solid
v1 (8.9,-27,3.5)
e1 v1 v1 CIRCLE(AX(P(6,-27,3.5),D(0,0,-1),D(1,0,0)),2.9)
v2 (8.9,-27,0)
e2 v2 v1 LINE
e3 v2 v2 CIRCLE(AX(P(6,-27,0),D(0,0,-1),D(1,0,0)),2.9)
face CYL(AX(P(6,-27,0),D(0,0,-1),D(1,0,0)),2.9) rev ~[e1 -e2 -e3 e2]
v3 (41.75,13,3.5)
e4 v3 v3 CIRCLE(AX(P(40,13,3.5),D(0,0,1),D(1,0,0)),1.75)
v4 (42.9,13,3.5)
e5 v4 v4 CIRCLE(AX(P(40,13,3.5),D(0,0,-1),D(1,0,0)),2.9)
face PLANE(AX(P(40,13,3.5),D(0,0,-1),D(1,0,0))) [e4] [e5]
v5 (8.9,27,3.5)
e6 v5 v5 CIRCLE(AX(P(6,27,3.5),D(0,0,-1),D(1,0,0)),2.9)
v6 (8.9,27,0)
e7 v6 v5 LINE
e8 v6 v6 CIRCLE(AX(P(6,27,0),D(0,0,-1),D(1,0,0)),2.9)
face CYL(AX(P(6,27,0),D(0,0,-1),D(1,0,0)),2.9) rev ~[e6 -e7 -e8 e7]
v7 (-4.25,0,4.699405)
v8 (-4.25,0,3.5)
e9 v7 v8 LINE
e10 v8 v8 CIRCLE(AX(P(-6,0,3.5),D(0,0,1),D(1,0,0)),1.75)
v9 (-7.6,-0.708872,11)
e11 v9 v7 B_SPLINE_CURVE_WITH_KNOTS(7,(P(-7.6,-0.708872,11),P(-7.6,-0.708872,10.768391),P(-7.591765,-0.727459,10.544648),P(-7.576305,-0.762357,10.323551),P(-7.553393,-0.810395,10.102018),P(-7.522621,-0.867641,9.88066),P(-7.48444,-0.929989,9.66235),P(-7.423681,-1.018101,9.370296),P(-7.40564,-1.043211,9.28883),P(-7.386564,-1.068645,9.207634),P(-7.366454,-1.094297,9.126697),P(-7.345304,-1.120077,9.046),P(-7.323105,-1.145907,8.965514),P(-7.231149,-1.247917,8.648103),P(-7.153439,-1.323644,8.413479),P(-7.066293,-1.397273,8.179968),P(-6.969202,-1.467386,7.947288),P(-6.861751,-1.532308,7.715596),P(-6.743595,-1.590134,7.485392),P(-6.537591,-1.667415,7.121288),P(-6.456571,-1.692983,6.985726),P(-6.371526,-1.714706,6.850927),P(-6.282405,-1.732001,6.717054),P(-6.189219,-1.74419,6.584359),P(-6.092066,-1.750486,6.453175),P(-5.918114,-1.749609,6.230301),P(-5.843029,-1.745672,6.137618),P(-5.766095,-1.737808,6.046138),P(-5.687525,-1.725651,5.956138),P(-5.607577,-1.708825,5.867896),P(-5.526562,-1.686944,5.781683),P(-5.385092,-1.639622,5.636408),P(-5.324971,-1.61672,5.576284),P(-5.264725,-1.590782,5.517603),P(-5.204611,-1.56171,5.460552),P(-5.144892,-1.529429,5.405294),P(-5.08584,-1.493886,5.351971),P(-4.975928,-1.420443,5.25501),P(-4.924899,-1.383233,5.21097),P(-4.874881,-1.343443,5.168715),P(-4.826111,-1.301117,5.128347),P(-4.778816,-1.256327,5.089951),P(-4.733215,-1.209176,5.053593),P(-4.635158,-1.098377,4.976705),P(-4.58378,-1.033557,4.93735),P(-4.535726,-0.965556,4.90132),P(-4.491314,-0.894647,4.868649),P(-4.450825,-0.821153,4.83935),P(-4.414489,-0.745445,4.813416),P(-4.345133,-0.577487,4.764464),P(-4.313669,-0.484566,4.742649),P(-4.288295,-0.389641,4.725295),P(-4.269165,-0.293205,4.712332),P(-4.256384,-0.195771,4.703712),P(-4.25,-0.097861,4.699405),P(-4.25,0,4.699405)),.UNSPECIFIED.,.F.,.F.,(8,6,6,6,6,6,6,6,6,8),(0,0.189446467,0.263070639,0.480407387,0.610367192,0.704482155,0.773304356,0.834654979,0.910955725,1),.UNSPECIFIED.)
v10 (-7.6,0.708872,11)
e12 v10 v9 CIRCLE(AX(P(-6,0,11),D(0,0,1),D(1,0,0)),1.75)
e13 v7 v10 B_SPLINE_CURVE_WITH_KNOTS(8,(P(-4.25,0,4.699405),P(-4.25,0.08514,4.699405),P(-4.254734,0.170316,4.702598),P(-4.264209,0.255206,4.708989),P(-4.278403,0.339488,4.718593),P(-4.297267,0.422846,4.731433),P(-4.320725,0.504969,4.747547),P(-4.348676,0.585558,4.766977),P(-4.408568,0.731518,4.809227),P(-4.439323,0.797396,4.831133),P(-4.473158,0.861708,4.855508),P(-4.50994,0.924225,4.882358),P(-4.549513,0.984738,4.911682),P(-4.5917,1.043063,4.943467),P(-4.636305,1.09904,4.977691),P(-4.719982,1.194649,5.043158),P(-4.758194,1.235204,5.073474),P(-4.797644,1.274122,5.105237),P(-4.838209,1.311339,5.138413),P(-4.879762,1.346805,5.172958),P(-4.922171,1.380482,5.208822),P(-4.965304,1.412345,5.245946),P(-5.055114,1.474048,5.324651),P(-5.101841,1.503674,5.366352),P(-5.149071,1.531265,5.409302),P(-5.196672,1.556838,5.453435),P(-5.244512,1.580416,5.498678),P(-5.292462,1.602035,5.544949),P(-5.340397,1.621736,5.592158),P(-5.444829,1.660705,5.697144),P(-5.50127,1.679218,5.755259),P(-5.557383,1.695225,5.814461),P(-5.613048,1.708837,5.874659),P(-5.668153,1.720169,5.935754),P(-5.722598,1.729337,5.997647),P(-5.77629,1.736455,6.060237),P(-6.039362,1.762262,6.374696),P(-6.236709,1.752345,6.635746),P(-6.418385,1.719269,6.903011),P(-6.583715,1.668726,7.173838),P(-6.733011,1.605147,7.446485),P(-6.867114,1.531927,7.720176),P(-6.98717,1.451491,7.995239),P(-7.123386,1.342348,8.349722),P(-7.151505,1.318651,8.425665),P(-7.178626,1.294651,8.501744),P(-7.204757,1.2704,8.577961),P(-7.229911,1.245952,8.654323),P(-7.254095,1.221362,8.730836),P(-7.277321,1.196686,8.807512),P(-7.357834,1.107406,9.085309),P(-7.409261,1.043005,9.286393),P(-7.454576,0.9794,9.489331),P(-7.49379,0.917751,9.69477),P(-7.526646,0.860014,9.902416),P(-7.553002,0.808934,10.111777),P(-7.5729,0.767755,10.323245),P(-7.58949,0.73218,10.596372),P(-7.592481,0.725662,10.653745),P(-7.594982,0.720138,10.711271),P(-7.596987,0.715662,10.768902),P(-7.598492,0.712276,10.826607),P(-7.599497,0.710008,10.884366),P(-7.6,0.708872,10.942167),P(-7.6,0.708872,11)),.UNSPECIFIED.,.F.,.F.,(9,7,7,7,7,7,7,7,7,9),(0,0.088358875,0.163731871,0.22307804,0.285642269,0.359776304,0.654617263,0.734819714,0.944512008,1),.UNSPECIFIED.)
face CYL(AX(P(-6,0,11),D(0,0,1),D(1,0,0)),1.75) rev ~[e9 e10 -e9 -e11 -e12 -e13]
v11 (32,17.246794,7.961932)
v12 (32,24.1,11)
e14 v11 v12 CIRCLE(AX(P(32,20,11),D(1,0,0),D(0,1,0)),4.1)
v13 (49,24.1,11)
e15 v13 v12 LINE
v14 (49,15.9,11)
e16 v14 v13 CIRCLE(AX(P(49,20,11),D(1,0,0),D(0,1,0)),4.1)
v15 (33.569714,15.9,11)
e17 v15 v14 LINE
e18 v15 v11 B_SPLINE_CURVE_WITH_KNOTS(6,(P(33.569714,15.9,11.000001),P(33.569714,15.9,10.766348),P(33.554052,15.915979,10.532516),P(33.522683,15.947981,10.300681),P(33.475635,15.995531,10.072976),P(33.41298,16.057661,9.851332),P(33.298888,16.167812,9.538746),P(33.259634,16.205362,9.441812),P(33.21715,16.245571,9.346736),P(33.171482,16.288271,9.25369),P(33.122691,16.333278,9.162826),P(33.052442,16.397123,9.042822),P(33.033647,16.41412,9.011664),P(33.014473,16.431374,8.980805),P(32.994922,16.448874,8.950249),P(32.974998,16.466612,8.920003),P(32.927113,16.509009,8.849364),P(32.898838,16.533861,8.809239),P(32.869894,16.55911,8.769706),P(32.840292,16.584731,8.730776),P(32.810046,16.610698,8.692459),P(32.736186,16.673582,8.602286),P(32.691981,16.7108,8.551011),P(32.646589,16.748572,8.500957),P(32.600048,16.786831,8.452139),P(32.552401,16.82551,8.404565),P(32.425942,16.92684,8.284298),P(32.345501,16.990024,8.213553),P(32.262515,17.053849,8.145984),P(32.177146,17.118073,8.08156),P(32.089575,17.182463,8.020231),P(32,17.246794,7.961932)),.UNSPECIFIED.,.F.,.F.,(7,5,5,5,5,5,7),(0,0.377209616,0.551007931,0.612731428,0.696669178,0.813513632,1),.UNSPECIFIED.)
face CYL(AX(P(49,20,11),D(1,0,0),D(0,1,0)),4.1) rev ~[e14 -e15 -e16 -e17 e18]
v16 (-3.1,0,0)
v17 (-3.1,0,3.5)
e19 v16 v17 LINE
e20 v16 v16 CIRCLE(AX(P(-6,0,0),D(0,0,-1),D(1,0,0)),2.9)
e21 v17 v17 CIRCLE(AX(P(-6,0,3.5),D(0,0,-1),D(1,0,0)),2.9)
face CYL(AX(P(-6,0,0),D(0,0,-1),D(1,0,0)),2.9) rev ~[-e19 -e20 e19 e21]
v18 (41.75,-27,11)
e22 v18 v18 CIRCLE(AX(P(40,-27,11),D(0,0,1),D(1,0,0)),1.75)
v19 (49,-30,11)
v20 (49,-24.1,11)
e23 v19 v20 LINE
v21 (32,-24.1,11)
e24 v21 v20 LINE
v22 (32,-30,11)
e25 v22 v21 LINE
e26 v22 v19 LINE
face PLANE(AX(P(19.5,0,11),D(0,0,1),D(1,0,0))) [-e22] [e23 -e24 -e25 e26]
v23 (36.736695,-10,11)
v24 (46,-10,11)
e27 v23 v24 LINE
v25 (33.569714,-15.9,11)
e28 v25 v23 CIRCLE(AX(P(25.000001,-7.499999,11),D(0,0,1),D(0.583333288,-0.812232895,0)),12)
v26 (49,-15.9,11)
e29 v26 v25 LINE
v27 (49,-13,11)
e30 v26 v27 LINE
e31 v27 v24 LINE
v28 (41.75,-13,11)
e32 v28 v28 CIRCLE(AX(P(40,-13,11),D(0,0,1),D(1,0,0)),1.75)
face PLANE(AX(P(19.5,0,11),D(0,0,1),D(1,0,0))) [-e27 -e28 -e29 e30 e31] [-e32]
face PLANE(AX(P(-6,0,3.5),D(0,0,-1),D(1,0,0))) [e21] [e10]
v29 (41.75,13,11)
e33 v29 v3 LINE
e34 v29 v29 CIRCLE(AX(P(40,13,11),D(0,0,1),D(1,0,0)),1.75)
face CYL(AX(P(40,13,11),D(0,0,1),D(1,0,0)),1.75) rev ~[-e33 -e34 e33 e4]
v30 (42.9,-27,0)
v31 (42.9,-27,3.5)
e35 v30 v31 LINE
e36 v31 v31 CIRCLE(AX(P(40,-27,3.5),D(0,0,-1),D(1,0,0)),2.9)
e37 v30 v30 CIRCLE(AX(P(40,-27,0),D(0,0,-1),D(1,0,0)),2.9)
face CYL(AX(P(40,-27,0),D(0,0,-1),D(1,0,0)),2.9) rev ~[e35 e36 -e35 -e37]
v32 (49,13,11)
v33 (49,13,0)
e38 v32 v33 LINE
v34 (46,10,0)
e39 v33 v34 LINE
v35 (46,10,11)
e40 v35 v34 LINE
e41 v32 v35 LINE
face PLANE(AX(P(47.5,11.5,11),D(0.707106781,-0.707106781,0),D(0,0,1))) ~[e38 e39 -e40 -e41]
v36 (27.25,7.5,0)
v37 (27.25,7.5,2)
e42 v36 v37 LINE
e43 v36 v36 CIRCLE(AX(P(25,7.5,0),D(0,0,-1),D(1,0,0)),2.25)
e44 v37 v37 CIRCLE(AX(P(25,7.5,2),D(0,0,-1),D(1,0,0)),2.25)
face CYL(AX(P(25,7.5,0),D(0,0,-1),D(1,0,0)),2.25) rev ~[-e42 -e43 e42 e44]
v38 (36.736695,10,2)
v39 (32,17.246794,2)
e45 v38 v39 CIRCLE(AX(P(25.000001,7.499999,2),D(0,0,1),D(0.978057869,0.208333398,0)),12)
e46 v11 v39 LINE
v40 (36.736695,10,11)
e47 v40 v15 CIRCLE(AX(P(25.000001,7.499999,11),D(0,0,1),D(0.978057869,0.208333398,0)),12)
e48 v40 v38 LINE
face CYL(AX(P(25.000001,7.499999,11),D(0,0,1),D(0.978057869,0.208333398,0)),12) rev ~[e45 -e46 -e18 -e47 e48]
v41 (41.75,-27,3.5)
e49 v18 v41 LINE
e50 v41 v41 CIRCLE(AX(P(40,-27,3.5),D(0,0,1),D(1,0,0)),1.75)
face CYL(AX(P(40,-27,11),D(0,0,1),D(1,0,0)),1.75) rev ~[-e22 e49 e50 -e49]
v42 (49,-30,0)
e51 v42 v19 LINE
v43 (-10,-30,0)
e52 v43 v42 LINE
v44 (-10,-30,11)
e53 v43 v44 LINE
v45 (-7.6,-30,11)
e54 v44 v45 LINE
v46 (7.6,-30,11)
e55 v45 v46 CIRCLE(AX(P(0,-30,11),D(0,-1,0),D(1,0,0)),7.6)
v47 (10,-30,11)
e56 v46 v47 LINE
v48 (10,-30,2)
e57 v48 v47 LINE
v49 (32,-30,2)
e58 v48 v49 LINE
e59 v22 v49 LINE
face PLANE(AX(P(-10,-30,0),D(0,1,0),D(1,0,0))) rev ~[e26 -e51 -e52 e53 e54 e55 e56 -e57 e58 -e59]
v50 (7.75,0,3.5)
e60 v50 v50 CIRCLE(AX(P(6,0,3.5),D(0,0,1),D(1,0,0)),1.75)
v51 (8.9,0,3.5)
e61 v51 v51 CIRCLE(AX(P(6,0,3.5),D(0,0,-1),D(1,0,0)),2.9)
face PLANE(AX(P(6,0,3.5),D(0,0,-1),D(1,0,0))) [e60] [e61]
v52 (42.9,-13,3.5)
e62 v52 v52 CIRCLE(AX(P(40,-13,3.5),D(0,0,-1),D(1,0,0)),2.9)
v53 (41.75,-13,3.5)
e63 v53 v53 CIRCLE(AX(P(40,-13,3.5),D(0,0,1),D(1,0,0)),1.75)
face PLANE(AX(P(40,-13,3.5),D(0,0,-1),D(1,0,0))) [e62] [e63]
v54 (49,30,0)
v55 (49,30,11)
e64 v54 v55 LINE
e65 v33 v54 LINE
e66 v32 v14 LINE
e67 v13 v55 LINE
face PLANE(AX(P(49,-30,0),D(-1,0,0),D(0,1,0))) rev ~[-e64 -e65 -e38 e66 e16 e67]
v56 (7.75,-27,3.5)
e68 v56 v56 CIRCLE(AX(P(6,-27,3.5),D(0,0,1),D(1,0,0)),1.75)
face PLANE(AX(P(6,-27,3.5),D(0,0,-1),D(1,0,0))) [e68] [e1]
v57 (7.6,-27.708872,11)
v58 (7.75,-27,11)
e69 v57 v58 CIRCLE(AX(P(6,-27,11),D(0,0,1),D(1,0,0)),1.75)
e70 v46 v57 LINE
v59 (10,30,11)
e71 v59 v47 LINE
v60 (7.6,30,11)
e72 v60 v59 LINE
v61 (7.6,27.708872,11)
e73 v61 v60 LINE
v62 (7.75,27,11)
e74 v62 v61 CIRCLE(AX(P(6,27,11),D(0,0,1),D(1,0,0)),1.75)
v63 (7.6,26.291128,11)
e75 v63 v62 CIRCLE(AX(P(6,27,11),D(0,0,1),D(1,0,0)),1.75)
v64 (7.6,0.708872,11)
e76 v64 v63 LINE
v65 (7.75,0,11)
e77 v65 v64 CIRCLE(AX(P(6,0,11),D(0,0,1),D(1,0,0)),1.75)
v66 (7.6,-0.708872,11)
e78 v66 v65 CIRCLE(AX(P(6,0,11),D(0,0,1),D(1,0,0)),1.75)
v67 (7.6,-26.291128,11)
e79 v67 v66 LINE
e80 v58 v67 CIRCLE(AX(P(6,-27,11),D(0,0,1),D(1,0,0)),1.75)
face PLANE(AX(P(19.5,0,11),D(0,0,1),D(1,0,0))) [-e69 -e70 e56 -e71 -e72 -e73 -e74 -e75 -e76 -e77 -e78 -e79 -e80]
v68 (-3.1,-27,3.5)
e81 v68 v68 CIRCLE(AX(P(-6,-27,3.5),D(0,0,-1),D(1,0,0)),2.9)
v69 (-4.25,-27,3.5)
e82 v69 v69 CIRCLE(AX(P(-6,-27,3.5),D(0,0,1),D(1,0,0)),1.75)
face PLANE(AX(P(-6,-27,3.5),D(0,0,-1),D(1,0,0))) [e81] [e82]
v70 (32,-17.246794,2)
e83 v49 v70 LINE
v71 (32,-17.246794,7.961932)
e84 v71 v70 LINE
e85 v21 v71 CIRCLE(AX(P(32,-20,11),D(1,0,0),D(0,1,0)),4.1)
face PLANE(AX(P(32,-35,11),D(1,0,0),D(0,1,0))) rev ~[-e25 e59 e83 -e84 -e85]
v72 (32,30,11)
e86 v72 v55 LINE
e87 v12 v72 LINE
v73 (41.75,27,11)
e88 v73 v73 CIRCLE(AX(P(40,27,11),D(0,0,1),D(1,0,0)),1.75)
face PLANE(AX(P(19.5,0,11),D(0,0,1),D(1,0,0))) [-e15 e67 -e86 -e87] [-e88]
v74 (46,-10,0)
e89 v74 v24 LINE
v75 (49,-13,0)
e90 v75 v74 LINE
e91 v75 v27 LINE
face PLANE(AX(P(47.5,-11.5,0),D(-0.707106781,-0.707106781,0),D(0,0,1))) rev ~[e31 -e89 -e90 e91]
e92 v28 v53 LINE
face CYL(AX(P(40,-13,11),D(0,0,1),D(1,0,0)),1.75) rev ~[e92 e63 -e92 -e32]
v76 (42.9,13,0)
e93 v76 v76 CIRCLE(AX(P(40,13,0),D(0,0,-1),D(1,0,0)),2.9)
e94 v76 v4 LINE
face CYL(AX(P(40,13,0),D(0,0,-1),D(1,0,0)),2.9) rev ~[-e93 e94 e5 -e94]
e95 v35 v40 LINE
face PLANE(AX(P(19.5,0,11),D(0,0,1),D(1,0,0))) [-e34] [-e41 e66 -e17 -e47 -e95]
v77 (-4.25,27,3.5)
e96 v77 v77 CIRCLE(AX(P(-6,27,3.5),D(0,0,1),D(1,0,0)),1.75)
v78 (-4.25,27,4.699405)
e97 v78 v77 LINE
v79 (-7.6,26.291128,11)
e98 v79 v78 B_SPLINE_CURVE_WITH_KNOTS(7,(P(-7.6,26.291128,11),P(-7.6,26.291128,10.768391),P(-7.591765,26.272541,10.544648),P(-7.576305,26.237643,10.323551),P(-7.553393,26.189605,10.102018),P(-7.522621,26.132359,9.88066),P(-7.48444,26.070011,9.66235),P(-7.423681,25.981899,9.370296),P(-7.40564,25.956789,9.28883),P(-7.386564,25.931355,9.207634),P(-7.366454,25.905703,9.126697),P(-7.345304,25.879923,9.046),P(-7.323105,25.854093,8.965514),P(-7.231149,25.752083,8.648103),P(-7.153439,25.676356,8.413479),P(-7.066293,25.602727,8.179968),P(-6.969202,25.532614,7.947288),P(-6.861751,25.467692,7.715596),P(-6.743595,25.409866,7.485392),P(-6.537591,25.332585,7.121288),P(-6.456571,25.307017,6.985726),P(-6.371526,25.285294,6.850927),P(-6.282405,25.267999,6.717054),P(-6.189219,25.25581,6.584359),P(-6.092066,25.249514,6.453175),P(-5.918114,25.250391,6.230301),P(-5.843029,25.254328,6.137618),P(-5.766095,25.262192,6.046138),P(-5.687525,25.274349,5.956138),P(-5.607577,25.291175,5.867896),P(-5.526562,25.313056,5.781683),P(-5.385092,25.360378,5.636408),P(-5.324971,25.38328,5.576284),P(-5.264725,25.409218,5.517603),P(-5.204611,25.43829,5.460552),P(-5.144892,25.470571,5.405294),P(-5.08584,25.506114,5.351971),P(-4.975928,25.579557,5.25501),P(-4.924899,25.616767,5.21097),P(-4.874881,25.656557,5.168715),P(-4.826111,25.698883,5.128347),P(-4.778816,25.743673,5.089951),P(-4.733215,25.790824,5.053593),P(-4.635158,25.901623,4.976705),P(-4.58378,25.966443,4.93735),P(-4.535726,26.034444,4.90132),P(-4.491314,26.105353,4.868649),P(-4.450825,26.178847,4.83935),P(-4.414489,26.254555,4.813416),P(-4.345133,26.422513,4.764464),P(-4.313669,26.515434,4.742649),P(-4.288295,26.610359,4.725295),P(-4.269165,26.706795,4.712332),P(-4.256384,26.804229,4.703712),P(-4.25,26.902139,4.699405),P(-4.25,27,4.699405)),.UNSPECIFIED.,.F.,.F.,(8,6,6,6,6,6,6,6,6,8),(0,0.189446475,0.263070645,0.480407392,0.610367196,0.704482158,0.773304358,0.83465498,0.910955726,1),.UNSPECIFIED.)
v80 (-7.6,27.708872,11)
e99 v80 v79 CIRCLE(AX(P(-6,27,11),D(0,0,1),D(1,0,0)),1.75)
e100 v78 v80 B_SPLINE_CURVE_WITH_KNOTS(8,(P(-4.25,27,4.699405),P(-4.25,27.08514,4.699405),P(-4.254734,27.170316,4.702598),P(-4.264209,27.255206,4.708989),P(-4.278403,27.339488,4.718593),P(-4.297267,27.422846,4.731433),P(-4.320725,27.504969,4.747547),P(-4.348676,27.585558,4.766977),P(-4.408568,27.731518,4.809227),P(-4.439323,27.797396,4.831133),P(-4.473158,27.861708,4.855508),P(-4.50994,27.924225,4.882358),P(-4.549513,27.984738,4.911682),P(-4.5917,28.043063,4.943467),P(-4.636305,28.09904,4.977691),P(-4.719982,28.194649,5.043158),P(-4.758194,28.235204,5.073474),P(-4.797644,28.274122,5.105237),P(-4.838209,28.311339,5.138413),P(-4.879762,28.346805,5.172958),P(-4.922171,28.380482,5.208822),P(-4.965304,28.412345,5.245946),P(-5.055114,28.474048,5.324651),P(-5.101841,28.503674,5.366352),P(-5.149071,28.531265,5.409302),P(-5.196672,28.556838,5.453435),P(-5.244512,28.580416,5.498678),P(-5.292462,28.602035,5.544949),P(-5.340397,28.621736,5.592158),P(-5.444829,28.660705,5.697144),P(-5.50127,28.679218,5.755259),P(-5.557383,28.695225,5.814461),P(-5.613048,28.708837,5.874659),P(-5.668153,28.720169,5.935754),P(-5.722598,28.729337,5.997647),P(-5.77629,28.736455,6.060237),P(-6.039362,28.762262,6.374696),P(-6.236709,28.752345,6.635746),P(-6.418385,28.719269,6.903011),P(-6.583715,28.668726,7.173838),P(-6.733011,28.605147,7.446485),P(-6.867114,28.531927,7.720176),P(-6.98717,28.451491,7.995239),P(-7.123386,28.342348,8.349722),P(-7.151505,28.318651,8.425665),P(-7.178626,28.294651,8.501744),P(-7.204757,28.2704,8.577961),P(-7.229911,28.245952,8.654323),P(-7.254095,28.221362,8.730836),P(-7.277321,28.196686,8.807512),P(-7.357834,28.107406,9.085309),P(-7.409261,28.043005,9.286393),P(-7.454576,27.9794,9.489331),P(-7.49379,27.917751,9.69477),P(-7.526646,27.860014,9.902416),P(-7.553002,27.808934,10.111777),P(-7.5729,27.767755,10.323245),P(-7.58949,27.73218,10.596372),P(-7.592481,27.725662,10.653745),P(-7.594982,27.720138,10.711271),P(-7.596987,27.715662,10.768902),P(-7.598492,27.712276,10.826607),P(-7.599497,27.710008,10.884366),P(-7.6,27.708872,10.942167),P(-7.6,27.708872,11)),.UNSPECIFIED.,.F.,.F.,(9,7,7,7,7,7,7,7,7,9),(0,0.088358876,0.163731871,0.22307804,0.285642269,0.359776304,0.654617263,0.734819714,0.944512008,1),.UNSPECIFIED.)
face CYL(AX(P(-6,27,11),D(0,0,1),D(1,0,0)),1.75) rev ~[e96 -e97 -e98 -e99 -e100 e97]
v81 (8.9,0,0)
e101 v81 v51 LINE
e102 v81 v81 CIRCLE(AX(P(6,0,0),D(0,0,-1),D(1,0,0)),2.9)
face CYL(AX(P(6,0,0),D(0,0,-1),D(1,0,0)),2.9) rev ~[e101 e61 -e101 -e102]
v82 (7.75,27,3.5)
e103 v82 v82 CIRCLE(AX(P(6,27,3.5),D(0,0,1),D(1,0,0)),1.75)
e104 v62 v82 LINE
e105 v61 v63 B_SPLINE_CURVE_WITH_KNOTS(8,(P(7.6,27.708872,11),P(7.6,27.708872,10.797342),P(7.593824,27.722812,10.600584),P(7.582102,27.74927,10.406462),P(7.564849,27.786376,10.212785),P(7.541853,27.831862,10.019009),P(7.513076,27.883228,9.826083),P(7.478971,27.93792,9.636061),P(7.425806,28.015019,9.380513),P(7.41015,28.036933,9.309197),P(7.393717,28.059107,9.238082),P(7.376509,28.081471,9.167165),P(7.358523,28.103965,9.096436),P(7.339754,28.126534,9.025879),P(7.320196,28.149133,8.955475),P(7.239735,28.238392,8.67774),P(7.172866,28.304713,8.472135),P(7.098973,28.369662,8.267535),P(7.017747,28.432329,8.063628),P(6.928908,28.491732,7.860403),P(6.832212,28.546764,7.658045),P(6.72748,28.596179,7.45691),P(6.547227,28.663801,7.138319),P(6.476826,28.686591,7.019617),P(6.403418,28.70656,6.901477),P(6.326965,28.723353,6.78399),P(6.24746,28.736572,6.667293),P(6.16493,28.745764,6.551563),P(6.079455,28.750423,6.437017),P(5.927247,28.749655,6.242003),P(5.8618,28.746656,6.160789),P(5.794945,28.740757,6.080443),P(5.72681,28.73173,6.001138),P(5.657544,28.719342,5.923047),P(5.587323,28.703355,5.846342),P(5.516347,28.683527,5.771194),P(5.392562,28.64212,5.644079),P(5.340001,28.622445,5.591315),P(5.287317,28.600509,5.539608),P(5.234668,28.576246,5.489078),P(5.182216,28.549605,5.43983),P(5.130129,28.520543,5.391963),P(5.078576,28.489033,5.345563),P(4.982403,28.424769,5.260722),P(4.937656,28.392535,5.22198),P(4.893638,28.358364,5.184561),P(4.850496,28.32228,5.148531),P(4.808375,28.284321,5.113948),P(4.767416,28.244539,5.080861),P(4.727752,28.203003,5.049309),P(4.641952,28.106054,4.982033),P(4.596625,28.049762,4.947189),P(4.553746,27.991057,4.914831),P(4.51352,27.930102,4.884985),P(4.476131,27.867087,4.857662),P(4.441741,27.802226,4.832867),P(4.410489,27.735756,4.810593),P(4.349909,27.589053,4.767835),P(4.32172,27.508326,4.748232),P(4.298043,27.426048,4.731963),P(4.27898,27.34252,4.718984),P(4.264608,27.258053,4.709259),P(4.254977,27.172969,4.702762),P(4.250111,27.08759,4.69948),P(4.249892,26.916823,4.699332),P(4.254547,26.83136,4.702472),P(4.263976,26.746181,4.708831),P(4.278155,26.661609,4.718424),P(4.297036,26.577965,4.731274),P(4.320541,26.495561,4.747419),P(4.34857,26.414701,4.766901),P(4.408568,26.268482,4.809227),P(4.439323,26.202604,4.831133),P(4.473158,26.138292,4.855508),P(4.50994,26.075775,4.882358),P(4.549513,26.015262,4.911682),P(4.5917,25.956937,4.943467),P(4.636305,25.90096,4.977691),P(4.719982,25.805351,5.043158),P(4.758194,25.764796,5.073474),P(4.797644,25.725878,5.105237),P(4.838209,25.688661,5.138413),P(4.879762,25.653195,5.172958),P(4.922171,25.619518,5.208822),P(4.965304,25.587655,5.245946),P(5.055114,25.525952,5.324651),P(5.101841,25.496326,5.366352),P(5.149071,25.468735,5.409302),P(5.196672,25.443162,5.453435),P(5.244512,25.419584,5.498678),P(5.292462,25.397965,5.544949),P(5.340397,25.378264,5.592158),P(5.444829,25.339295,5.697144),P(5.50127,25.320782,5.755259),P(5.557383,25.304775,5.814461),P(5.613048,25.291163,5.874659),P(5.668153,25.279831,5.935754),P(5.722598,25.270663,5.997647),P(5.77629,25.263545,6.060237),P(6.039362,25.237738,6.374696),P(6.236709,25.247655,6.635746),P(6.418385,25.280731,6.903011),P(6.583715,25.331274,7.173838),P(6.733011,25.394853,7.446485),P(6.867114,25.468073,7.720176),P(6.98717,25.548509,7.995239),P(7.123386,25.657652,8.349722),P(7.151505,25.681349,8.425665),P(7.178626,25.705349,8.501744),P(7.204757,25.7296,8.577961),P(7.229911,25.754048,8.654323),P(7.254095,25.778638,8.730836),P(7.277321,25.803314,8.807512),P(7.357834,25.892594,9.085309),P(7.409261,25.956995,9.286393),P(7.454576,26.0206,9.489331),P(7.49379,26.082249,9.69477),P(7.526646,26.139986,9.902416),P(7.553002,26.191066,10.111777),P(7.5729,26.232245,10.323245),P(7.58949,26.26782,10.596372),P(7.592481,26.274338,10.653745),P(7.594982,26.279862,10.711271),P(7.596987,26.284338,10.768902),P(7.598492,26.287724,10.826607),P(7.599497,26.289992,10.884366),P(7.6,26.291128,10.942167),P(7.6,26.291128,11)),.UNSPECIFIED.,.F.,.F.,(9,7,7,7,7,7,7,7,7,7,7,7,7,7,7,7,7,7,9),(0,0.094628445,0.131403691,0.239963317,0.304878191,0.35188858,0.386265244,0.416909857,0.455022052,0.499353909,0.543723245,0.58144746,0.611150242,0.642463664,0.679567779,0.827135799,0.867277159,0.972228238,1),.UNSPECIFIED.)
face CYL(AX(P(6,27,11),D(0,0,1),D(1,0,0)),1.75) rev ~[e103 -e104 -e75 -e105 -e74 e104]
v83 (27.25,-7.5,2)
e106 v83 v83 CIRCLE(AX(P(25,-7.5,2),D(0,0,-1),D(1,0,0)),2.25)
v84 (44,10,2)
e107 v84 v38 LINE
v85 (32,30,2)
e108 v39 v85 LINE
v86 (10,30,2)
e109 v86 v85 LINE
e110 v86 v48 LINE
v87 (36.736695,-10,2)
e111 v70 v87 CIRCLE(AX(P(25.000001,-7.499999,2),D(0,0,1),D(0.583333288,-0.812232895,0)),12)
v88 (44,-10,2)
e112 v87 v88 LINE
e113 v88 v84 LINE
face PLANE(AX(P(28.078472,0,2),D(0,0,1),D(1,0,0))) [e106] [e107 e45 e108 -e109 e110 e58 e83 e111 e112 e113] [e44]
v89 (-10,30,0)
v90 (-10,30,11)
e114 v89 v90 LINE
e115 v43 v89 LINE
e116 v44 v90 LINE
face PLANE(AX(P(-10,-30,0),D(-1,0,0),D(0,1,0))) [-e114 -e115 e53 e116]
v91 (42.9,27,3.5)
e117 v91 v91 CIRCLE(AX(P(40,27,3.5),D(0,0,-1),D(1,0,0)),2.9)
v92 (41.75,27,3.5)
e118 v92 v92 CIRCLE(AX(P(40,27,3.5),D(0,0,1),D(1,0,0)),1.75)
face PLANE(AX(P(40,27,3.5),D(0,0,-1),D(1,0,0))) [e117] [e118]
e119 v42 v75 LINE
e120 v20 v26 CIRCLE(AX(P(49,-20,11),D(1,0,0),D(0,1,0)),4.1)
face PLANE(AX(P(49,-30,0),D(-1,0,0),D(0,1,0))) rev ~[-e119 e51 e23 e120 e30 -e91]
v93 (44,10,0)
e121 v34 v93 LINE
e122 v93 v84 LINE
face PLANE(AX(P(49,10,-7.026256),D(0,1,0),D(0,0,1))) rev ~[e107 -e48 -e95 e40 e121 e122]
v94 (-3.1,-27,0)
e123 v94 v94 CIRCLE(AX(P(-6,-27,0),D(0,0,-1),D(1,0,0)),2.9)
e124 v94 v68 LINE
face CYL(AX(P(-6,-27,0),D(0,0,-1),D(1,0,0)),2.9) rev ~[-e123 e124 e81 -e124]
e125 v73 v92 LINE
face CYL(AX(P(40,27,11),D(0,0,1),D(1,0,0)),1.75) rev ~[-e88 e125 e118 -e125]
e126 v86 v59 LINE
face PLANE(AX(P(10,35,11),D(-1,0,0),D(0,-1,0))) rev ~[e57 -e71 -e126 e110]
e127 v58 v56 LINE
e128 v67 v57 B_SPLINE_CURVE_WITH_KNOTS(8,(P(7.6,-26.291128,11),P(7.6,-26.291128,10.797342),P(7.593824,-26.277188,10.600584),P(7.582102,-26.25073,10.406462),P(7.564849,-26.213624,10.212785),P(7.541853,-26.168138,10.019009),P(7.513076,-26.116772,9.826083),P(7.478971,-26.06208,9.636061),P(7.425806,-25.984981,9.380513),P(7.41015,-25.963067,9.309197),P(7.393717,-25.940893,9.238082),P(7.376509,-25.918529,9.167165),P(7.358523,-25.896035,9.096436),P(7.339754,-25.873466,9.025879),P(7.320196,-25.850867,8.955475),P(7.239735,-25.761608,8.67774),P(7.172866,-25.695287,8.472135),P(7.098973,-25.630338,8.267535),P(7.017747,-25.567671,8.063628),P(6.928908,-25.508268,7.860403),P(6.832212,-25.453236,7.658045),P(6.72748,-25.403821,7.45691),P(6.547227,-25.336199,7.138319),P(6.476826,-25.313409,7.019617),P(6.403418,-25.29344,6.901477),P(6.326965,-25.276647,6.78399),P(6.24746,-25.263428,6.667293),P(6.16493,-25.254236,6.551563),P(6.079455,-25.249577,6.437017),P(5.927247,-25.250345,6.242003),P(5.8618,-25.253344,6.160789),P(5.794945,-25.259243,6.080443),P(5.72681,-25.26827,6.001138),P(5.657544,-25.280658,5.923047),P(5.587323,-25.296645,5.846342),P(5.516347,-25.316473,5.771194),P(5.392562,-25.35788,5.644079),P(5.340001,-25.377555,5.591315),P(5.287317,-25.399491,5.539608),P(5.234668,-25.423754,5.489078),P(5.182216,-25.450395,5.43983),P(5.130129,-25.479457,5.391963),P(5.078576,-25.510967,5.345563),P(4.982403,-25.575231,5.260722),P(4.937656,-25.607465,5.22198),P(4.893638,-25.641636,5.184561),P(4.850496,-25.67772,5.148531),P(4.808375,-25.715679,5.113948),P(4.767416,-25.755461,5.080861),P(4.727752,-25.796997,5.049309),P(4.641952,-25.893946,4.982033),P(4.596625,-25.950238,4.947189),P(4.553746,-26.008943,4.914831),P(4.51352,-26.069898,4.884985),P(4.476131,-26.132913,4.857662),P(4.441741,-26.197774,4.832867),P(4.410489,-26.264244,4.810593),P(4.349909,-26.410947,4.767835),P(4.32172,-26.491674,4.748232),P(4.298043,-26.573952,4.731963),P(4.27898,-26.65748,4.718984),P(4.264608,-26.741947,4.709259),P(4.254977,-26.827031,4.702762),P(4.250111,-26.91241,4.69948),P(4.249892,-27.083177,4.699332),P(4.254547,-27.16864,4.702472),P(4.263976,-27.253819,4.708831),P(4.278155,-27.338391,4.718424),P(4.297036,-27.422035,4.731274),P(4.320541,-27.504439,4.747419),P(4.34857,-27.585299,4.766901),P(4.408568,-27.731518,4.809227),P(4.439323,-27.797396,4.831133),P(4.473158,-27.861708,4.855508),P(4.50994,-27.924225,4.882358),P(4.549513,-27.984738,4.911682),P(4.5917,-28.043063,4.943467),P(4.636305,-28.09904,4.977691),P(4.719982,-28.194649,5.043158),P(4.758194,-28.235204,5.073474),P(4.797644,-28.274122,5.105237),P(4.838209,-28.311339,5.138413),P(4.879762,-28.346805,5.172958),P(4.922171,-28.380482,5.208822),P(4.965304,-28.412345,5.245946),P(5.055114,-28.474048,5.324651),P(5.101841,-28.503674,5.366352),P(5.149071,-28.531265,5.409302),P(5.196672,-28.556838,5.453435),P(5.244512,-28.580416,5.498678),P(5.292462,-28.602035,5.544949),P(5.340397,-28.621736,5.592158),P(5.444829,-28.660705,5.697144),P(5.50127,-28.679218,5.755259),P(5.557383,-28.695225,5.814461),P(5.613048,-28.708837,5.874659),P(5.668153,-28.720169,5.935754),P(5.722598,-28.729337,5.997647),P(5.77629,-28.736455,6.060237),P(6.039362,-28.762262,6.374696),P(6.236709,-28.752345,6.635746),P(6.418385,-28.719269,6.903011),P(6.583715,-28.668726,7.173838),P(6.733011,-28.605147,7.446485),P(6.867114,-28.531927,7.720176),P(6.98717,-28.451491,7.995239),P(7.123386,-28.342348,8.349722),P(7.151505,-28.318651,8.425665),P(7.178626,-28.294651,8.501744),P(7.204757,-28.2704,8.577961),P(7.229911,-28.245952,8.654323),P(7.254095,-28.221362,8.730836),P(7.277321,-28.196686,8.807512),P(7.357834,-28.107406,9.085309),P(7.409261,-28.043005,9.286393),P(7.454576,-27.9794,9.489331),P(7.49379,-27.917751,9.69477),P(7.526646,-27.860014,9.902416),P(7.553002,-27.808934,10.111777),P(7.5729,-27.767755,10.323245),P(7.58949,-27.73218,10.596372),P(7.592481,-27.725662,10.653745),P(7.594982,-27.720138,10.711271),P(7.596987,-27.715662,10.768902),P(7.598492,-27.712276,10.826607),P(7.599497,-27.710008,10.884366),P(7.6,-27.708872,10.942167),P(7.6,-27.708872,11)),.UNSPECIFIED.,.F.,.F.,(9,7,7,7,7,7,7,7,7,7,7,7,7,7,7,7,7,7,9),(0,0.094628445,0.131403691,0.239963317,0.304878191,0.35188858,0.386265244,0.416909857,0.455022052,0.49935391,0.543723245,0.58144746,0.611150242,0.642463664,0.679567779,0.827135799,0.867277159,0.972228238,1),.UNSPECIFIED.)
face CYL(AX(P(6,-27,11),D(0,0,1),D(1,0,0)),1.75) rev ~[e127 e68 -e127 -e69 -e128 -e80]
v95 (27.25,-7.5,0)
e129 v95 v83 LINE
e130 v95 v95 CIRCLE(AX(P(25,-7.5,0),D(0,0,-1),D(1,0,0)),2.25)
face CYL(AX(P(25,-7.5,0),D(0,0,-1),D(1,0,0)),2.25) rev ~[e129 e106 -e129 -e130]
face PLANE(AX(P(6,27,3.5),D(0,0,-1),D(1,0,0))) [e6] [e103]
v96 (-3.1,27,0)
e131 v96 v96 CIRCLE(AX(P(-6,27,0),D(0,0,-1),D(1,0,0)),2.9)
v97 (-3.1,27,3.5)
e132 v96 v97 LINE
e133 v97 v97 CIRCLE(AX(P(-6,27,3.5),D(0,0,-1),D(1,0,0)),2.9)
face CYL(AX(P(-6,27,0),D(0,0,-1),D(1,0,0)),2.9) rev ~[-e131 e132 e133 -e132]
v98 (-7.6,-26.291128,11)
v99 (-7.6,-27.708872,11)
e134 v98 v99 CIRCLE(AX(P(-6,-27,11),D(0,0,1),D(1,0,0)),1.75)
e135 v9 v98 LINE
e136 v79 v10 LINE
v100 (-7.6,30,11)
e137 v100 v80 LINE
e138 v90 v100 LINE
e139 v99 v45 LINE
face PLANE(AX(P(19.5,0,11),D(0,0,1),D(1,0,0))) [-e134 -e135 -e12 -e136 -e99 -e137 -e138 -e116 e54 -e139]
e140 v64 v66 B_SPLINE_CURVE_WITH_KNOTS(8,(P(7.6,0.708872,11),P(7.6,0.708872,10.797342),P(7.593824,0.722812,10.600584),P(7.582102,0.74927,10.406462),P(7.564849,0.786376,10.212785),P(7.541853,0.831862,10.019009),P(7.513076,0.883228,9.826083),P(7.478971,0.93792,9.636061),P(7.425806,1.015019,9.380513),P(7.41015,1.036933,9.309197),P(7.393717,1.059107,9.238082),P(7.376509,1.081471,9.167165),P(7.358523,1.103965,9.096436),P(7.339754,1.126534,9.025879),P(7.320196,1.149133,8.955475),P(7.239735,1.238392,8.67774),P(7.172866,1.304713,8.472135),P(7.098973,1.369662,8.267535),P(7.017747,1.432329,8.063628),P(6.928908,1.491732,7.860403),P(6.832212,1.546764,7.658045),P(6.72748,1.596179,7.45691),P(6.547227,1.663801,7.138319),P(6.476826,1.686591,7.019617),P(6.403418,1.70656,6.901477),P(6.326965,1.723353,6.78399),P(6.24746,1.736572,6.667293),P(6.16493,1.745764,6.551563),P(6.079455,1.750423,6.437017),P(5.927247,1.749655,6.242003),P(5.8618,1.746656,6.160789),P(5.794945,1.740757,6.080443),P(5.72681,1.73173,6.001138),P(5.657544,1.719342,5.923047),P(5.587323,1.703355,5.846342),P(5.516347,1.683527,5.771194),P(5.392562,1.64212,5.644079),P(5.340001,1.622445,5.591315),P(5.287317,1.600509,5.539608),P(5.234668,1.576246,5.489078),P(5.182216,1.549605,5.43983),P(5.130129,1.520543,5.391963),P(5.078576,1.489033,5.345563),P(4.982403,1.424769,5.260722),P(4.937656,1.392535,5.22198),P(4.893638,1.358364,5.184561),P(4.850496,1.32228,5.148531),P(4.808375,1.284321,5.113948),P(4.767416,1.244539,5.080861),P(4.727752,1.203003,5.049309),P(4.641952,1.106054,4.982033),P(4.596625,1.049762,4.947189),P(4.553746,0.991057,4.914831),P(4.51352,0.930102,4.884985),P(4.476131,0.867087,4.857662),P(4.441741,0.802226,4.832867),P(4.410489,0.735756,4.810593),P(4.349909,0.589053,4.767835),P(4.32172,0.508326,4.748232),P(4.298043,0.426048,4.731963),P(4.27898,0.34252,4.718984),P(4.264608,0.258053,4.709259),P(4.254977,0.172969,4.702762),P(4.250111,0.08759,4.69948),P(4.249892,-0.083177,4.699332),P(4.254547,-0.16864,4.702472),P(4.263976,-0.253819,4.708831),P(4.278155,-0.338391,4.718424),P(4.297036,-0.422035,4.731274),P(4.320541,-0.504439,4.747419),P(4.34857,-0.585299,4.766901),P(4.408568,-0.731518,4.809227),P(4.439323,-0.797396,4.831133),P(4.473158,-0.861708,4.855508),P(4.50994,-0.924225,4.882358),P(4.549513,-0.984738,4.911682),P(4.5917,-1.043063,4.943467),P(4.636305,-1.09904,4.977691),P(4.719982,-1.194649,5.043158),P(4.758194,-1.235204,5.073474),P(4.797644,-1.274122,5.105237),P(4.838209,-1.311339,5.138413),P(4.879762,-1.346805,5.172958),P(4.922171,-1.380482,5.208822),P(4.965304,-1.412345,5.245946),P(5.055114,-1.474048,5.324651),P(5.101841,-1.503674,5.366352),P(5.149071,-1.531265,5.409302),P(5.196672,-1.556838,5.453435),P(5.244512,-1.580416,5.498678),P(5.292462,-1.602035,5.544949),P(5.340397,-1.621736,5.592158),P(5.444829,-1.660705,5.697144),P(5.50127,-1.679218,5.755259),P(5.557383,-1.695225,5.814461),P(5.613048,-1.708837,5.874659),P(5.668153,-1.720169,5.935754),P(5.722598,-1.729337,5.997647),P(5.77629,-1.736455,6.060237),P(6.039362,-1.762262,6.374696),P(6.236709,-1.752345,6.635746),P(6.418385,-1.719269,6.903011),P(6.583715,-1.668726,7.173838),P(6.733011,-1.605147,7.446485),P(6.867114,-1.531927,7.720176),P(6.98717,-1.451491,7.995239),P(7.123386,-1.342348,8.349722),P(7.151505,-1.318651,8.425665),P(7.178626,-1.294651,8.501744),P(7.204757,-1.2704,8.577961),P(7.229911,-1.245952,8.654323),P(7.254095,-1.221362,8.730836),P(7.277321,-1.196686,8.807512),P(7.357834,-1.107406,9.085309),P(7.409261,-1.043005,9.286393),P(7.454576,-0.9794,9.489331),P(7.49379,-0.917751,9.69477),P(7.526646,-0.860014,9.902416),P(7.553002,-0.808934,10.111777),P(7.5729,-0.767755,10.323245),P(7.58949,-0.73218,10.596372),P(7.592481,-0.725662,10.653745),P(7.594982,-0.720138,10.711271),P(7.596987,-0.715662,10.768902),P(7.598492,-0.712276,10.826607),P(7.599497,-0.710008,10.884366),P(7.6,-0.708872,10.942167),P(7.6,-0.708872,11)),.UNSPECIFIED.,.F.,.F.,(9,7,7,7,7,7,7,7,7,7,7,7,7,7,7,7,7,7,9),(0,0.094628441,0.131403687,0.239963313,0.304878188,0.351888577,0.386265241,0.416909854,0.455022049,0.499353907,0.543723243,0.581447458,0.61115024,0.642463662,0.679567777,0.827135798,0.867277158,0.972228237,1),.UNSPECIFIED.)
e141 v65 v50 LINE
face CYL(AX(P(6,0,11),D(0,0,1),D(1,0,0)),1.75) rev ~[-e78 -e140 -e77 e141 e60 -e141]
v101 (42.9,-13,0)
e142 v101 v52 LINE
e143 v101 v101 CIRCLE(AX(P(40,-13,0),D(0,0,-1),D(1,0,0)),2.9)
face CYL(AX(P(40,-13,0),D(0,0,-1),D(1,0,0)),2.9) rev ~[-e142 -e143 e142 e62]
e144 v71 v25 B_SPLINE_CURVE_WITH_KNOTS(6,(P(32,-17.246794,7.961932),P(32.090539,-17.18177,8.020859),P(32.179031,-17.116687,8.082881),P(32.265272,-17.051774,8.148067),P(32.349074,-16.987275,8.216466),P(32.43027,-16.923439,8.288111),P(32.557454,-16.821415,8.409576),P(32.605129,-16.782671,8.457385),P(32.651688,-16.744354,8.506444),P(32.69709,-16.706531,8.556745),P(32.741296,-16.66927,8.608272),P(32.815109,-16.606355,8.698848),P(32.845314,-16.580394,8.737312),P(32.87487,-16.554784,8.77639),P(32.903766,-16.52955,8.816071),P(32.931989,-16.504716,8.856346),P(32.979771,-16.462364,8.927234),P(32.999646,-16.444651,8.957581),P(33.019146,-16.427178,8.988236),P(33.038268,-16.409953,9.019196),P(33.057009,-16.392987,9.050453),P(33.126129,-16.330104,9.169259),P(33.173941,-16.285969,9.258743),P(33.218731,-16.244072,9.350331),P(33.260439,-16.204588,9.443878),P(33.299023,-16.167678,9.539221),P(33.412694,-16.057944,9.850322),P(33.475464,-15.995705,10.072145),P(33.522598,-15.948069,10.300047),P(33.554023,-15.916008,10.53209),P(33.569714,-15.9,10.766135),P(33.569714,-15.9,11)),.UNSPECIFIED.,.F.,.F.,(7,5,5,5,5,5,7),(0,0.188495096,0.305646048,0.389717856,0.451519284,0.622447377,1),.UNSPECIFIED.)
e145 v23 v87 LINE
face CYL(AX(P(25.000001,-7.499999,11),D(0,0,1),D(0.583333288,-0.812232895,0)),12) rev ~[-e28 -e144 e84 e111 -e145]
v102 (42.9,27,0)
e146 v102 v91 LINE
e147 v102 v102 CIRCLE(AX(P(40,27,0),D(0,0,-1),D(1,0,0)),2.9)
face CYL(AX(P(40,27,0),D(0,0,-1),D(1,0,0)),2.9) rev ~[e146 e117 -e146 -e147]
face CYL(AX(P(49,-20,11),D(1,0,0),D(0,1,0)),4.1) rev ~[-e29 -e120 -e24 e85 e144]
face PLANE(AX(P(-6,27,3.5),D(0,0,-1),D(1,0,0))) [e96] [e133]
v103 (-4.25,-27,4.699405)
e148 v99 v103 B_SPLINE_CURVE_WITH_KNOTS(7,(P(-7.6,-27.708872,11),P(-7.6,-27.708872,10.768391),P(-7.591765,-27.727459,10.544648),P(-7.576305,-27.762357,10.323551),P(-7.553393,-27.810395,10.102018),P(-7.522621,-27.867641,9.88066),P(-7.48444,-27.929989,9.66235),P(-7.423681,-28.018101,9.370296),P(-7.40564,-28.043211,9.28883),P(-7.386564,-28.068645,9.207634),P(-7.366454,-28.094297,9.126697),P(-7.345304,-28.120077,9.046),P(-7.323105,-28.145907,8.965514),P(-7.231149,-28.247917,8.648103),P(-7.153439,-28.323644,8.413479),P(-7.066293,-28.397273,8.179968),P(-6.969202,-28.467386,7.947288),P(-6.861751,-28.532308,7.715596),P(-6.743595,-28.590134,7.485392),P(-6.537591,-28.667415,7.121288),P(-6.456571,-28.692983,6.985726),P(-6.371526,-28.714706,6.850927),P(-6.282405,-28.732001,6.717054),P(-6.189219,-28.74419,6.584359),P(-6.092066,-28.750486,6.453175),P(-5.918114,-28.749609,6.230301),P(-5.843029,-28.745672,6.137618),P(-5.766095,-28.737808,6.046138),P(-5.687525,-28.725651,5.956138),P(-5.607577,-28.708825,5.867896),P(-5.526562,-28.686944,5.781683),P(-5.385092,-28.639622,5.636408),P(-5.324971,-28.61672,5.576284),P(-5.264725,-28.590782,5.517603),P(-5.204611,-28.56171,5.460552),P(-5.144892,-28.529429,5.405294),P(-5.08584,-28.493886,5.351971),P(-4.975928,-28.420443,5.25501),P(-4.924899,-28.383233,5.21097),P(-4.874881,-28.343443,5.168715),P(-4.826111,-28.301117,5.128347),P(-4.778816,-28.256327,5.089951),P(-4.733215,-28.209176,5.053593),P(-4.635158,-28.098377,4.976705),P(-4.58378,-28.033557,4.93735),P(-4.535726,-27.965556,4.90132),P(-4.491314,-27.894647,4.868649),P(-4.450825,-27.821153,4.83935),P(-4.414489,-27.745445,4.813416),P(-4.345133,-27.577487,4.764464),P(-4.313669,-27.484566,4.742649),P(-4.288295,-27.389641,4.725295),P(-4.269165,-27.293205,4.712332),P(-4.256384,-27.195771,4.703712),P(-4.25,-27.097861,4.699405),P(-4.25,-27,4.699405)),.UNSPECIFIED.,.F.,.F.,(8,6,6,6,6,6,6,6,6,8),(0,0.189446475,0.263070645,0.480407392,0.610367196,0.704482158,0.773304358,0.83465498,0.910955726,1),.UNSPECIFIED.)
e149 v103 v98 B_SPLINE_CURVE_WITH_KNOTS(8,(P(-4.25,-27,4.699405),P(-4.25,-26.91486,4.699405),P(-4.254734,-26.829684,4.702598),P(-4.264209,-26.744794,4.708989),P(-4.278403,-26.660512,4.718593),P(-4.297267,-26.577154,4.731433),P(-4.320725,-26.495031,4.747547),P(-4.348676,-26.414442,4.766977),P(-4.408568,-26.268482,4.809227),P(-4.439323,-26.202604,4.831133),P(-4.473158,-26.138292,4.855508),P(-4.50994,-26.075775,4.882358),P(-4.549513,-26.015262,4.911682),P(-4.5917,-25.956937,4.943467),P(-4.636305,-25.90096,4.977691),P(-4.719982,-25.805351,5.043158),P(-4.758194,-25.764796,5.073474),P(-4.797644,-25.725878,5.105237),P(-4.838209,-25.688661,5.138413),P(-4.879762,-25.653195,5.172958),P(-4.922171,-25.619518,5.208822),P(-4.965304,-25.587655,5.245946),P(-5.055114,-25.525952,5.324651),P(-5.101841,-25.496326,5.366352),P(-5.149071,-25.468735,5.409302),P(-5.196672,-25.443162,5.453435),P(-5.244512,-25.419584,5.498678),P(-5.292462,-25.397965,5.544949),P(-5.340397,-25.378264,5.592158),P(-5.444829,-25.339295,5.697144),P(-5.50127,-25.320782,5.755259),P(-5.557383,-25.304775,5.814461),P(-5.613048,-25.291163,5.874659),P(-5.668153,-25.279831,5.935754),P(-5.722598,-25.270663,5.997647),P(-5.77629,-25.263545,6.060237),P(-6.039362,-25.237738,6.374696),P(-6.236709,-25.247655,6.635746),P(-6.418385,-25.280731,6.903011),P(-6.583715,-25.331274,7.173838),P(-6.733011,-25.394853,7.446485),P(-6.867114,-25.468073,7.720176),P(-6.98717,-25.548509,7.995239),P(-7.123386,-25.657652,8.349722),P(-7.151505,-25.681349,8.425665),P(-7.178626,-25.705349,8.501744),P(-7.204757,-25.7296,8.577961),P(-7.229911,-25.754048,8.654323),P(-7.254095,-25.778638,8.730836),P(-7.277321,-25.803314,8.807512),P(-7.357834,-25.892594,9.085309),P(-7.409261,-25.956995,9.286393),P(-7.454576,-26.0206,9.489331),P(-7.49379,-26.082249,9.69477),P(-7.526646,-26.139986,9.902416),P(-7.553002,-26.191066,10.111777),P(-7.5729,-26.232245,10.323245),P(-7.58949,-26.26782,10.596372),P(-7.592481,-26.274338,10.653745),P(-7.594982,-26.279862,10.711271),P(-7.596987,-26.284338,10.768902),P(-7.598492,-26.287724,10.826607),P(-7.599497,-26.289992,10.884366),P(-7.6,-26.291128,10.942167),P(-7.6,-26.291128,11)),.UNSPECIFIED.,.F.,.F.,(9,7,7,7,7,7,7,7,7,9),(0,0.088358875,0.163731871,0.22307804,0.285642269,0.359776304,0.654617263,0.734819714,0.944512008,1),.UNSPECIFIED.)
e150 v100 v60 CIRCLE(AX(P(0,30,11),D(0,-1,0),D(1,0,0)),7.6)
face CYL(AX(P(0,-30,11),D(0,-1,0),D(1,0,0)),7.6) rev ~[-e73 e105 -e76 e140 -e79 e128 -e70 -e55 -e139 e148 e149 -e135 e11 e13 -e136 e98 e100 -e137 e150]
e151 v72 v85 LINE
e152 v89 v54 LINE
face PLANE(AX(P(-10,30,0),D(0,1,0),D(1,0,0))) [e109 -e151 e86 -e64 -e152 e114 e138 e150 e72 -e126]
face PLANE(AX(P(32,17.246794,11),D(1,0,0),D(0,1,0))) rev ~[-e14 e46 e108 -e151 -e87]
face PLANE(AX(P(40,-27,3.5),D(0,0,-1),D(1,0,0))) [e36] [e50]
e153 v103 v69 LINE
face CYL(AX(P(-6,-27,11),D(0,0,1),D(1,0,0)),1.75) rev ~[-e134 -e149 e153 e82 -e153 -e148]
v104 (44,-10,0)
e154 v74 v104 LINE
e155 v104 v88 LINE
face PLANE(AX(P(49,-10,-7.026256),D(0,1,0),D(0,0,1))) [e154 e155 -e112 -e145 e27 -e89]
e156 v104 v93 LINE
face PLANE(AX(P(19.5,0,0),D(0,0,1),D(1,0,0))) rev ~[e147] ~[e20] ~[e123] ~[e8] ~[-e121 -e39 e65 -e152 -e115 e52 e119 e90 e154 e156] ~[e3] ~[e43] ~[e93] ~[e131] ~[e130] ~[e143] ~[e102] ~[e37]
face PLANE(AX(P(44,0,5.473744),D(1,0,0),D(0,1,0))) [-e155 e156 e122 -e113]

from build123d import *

# Parameters (mm, degrees)
SKETCH_W        = 59
SKETCH_H        = 60
PAD_DEPTH       = 11
SKETCH001_R     = 7.6
POCKET_DEPTH    = 60.001
SKETCH002_R     = 1.75
POCKET001_DEPTH = 11.001
POCKET002_DEPTH = 9
SKETCH004_R     = 2.25
POCKET003_DEPTH = 11.001
SKETCH008_R     = 4.1
POCKET005_DEPTH = 20
SKETCH010_W     = 20
SKETCH010_H     = 25
POCKET006_DEPTH = 5
SKETCH011_R     = 2.9
POCKET007_DEPTH = 3.5
CHAMFER_SIZE    = 3


with BuildPart() as part:
    # Sketch → Pad (new body)
    with BuildSketch(Plane.XY):
        with Locations((19.5, 0)):
            Rectangle(SKETCH_W, SKETCH_H)
    extrude(amount=PAD_DEPTH)

    # Sketch001 → Pocket (cut, through all)
    with BuildSketch(Plane.XZ.offset(30)):
        with Locations((0, 11)):
            Circle(SKETCH001_R)
    extrude(amount=-POCKET_DEPTH, mode=Mode.SUBTRACT)

    # Sketch002 → Pocket001 (cut, through all)
    with BuildSketch(Plane.XY.offset(11)):
        with Locations((-6, 27)):
            Circle(SKETCH002_R)
        with Locations((40, 27)):
            Circle(SKETCH002_R)
        with Locations((-6, -27)):
            Circle(SKETCH002_R)
        with Locations((40, -27)):
            Circle(SKETCH002_R)
        with Locations((6, 27)):
            Circle(SKETCH002_R)
        with Locations((6, -27)):
            Circle(SKETCH002_R)
        with Locations((6, 0)):
            Circle(SKETCH002_R)
        with Locations((-6, 0)):
            Circle(SKETCH002_R)
        with Locations((40, -13)):
            Circle(SKETCH002_R)
        with Locations((40, 13)):
            Circle(SKETCH002_R)
    extrude(amount=-POCKET001_DEPTH, mode=Mode.SUBTRACT)

    # Sketch003 → Pocket002 (cut)
    with BuildSketch(Plane.XY.offset(11)):
        with BuildLine():
            Line((10, 35), (10, -35))
            Line((10, -35), (32, -35))
            Line((32, -35), (32, -17.246794))
            ThreePointArc((32, -17.246794), (35.044647, -14.065445), (36.736695, -10))
            Line((36.736695, -10), (56.736695, -10))
            Line((56.736695, -10), (56.736695, 10))
            Line((56.736695, 10), (36.736695, 10))
            ThreePointArc((36.736695, 10), (35.044647, 14.065445), (32, 17.246794))
            Line((32, 17.246794), (32, 35))
            Line((32, 35), (10, 35))
        make_face()
    extrude(amount=-POCKET002_DEPTH, mode=Mode.SUBTRACT)

    # Sketch004 → Pocket003 (cut, through all)
    with BuildSketch(Plane(origin=(0, 0, 0), x_dir=(1, 0, 0), z_dir=(0, 0, -1))):
        with Locations((25, 7.5)):
            Circle(SKETCH004_R)
        with Locations((25, -7.5)):
            Circle(SKETCH004_R)
    extrude(amount=-POCKET003_DEPTH, mode=Mode.SUBTRACT)

    # Sketch008 → Pocket005 (cut)
    with BuildSketch(Plane.YZ.offset(49)):
        with Locations((-20, 11)):
            Circle(SKETCH008_R)
        with Locations((20, 11)):
            Circle(SKETCH008_R)
    extrude(amount=-POCKET005_DEPTH, mode=Mode.SUBTRACT)

    # Sketch010 → Pocket006 (cut)
    with BuildSketch(Plane.YZ.offset(49)):
        with Locations((0, 5.473744)):
            Rectangle(SKETCH010_W, SKETCH010_H)
    extrude(amount=-POCKET006_DEPTH, mode=Mode.SUBTRACT)

    # Sketch011 → Pocket007 (cut)
    with BuildSketch(Plane(origin=(0, 0, 0), x_dir=(1, 0, 0), z_dir=(0, 0, -1))):
        with Locations((6, 27)):
            Circle(SKETCH011_R)
        with Locations((40, -13)):
            Circle(SKETCH011_R)
        with Locations((-6, -27)):
            Circle(SKETCH011_R)
        with Locations((6, -27)):
            Circle(SKETCH011_R)
        with Locations((40, 27)):
            Circle(SKETCH011_R)
        with Locations((40, 13)):
            Circle(SKETCH011_R)
        with Locations((40, -27)):
            Circle(SKETCH011_R)
        with Locations((-6, 27)):
            Circle(SKETCH011_R)
        with Locations((6, 0)):
            Circle(SKETCH011_R)
        with Locations((-6, 0)):
            Circle(SKETCH011_R)
    extrude(amount=-POCKET007_DEPTH, mode=Mode.SUBTRACT)

    # Chamfer
    chamfer_edges = [part.edges().sort_by_distance(p)[0] for p in [
        (49, -10, 6.5),
        (49, 10, 6.5),
    ]]
    chamfer(chamfer_edges, length=CHAMFER_SIZE)


solid = part.part
